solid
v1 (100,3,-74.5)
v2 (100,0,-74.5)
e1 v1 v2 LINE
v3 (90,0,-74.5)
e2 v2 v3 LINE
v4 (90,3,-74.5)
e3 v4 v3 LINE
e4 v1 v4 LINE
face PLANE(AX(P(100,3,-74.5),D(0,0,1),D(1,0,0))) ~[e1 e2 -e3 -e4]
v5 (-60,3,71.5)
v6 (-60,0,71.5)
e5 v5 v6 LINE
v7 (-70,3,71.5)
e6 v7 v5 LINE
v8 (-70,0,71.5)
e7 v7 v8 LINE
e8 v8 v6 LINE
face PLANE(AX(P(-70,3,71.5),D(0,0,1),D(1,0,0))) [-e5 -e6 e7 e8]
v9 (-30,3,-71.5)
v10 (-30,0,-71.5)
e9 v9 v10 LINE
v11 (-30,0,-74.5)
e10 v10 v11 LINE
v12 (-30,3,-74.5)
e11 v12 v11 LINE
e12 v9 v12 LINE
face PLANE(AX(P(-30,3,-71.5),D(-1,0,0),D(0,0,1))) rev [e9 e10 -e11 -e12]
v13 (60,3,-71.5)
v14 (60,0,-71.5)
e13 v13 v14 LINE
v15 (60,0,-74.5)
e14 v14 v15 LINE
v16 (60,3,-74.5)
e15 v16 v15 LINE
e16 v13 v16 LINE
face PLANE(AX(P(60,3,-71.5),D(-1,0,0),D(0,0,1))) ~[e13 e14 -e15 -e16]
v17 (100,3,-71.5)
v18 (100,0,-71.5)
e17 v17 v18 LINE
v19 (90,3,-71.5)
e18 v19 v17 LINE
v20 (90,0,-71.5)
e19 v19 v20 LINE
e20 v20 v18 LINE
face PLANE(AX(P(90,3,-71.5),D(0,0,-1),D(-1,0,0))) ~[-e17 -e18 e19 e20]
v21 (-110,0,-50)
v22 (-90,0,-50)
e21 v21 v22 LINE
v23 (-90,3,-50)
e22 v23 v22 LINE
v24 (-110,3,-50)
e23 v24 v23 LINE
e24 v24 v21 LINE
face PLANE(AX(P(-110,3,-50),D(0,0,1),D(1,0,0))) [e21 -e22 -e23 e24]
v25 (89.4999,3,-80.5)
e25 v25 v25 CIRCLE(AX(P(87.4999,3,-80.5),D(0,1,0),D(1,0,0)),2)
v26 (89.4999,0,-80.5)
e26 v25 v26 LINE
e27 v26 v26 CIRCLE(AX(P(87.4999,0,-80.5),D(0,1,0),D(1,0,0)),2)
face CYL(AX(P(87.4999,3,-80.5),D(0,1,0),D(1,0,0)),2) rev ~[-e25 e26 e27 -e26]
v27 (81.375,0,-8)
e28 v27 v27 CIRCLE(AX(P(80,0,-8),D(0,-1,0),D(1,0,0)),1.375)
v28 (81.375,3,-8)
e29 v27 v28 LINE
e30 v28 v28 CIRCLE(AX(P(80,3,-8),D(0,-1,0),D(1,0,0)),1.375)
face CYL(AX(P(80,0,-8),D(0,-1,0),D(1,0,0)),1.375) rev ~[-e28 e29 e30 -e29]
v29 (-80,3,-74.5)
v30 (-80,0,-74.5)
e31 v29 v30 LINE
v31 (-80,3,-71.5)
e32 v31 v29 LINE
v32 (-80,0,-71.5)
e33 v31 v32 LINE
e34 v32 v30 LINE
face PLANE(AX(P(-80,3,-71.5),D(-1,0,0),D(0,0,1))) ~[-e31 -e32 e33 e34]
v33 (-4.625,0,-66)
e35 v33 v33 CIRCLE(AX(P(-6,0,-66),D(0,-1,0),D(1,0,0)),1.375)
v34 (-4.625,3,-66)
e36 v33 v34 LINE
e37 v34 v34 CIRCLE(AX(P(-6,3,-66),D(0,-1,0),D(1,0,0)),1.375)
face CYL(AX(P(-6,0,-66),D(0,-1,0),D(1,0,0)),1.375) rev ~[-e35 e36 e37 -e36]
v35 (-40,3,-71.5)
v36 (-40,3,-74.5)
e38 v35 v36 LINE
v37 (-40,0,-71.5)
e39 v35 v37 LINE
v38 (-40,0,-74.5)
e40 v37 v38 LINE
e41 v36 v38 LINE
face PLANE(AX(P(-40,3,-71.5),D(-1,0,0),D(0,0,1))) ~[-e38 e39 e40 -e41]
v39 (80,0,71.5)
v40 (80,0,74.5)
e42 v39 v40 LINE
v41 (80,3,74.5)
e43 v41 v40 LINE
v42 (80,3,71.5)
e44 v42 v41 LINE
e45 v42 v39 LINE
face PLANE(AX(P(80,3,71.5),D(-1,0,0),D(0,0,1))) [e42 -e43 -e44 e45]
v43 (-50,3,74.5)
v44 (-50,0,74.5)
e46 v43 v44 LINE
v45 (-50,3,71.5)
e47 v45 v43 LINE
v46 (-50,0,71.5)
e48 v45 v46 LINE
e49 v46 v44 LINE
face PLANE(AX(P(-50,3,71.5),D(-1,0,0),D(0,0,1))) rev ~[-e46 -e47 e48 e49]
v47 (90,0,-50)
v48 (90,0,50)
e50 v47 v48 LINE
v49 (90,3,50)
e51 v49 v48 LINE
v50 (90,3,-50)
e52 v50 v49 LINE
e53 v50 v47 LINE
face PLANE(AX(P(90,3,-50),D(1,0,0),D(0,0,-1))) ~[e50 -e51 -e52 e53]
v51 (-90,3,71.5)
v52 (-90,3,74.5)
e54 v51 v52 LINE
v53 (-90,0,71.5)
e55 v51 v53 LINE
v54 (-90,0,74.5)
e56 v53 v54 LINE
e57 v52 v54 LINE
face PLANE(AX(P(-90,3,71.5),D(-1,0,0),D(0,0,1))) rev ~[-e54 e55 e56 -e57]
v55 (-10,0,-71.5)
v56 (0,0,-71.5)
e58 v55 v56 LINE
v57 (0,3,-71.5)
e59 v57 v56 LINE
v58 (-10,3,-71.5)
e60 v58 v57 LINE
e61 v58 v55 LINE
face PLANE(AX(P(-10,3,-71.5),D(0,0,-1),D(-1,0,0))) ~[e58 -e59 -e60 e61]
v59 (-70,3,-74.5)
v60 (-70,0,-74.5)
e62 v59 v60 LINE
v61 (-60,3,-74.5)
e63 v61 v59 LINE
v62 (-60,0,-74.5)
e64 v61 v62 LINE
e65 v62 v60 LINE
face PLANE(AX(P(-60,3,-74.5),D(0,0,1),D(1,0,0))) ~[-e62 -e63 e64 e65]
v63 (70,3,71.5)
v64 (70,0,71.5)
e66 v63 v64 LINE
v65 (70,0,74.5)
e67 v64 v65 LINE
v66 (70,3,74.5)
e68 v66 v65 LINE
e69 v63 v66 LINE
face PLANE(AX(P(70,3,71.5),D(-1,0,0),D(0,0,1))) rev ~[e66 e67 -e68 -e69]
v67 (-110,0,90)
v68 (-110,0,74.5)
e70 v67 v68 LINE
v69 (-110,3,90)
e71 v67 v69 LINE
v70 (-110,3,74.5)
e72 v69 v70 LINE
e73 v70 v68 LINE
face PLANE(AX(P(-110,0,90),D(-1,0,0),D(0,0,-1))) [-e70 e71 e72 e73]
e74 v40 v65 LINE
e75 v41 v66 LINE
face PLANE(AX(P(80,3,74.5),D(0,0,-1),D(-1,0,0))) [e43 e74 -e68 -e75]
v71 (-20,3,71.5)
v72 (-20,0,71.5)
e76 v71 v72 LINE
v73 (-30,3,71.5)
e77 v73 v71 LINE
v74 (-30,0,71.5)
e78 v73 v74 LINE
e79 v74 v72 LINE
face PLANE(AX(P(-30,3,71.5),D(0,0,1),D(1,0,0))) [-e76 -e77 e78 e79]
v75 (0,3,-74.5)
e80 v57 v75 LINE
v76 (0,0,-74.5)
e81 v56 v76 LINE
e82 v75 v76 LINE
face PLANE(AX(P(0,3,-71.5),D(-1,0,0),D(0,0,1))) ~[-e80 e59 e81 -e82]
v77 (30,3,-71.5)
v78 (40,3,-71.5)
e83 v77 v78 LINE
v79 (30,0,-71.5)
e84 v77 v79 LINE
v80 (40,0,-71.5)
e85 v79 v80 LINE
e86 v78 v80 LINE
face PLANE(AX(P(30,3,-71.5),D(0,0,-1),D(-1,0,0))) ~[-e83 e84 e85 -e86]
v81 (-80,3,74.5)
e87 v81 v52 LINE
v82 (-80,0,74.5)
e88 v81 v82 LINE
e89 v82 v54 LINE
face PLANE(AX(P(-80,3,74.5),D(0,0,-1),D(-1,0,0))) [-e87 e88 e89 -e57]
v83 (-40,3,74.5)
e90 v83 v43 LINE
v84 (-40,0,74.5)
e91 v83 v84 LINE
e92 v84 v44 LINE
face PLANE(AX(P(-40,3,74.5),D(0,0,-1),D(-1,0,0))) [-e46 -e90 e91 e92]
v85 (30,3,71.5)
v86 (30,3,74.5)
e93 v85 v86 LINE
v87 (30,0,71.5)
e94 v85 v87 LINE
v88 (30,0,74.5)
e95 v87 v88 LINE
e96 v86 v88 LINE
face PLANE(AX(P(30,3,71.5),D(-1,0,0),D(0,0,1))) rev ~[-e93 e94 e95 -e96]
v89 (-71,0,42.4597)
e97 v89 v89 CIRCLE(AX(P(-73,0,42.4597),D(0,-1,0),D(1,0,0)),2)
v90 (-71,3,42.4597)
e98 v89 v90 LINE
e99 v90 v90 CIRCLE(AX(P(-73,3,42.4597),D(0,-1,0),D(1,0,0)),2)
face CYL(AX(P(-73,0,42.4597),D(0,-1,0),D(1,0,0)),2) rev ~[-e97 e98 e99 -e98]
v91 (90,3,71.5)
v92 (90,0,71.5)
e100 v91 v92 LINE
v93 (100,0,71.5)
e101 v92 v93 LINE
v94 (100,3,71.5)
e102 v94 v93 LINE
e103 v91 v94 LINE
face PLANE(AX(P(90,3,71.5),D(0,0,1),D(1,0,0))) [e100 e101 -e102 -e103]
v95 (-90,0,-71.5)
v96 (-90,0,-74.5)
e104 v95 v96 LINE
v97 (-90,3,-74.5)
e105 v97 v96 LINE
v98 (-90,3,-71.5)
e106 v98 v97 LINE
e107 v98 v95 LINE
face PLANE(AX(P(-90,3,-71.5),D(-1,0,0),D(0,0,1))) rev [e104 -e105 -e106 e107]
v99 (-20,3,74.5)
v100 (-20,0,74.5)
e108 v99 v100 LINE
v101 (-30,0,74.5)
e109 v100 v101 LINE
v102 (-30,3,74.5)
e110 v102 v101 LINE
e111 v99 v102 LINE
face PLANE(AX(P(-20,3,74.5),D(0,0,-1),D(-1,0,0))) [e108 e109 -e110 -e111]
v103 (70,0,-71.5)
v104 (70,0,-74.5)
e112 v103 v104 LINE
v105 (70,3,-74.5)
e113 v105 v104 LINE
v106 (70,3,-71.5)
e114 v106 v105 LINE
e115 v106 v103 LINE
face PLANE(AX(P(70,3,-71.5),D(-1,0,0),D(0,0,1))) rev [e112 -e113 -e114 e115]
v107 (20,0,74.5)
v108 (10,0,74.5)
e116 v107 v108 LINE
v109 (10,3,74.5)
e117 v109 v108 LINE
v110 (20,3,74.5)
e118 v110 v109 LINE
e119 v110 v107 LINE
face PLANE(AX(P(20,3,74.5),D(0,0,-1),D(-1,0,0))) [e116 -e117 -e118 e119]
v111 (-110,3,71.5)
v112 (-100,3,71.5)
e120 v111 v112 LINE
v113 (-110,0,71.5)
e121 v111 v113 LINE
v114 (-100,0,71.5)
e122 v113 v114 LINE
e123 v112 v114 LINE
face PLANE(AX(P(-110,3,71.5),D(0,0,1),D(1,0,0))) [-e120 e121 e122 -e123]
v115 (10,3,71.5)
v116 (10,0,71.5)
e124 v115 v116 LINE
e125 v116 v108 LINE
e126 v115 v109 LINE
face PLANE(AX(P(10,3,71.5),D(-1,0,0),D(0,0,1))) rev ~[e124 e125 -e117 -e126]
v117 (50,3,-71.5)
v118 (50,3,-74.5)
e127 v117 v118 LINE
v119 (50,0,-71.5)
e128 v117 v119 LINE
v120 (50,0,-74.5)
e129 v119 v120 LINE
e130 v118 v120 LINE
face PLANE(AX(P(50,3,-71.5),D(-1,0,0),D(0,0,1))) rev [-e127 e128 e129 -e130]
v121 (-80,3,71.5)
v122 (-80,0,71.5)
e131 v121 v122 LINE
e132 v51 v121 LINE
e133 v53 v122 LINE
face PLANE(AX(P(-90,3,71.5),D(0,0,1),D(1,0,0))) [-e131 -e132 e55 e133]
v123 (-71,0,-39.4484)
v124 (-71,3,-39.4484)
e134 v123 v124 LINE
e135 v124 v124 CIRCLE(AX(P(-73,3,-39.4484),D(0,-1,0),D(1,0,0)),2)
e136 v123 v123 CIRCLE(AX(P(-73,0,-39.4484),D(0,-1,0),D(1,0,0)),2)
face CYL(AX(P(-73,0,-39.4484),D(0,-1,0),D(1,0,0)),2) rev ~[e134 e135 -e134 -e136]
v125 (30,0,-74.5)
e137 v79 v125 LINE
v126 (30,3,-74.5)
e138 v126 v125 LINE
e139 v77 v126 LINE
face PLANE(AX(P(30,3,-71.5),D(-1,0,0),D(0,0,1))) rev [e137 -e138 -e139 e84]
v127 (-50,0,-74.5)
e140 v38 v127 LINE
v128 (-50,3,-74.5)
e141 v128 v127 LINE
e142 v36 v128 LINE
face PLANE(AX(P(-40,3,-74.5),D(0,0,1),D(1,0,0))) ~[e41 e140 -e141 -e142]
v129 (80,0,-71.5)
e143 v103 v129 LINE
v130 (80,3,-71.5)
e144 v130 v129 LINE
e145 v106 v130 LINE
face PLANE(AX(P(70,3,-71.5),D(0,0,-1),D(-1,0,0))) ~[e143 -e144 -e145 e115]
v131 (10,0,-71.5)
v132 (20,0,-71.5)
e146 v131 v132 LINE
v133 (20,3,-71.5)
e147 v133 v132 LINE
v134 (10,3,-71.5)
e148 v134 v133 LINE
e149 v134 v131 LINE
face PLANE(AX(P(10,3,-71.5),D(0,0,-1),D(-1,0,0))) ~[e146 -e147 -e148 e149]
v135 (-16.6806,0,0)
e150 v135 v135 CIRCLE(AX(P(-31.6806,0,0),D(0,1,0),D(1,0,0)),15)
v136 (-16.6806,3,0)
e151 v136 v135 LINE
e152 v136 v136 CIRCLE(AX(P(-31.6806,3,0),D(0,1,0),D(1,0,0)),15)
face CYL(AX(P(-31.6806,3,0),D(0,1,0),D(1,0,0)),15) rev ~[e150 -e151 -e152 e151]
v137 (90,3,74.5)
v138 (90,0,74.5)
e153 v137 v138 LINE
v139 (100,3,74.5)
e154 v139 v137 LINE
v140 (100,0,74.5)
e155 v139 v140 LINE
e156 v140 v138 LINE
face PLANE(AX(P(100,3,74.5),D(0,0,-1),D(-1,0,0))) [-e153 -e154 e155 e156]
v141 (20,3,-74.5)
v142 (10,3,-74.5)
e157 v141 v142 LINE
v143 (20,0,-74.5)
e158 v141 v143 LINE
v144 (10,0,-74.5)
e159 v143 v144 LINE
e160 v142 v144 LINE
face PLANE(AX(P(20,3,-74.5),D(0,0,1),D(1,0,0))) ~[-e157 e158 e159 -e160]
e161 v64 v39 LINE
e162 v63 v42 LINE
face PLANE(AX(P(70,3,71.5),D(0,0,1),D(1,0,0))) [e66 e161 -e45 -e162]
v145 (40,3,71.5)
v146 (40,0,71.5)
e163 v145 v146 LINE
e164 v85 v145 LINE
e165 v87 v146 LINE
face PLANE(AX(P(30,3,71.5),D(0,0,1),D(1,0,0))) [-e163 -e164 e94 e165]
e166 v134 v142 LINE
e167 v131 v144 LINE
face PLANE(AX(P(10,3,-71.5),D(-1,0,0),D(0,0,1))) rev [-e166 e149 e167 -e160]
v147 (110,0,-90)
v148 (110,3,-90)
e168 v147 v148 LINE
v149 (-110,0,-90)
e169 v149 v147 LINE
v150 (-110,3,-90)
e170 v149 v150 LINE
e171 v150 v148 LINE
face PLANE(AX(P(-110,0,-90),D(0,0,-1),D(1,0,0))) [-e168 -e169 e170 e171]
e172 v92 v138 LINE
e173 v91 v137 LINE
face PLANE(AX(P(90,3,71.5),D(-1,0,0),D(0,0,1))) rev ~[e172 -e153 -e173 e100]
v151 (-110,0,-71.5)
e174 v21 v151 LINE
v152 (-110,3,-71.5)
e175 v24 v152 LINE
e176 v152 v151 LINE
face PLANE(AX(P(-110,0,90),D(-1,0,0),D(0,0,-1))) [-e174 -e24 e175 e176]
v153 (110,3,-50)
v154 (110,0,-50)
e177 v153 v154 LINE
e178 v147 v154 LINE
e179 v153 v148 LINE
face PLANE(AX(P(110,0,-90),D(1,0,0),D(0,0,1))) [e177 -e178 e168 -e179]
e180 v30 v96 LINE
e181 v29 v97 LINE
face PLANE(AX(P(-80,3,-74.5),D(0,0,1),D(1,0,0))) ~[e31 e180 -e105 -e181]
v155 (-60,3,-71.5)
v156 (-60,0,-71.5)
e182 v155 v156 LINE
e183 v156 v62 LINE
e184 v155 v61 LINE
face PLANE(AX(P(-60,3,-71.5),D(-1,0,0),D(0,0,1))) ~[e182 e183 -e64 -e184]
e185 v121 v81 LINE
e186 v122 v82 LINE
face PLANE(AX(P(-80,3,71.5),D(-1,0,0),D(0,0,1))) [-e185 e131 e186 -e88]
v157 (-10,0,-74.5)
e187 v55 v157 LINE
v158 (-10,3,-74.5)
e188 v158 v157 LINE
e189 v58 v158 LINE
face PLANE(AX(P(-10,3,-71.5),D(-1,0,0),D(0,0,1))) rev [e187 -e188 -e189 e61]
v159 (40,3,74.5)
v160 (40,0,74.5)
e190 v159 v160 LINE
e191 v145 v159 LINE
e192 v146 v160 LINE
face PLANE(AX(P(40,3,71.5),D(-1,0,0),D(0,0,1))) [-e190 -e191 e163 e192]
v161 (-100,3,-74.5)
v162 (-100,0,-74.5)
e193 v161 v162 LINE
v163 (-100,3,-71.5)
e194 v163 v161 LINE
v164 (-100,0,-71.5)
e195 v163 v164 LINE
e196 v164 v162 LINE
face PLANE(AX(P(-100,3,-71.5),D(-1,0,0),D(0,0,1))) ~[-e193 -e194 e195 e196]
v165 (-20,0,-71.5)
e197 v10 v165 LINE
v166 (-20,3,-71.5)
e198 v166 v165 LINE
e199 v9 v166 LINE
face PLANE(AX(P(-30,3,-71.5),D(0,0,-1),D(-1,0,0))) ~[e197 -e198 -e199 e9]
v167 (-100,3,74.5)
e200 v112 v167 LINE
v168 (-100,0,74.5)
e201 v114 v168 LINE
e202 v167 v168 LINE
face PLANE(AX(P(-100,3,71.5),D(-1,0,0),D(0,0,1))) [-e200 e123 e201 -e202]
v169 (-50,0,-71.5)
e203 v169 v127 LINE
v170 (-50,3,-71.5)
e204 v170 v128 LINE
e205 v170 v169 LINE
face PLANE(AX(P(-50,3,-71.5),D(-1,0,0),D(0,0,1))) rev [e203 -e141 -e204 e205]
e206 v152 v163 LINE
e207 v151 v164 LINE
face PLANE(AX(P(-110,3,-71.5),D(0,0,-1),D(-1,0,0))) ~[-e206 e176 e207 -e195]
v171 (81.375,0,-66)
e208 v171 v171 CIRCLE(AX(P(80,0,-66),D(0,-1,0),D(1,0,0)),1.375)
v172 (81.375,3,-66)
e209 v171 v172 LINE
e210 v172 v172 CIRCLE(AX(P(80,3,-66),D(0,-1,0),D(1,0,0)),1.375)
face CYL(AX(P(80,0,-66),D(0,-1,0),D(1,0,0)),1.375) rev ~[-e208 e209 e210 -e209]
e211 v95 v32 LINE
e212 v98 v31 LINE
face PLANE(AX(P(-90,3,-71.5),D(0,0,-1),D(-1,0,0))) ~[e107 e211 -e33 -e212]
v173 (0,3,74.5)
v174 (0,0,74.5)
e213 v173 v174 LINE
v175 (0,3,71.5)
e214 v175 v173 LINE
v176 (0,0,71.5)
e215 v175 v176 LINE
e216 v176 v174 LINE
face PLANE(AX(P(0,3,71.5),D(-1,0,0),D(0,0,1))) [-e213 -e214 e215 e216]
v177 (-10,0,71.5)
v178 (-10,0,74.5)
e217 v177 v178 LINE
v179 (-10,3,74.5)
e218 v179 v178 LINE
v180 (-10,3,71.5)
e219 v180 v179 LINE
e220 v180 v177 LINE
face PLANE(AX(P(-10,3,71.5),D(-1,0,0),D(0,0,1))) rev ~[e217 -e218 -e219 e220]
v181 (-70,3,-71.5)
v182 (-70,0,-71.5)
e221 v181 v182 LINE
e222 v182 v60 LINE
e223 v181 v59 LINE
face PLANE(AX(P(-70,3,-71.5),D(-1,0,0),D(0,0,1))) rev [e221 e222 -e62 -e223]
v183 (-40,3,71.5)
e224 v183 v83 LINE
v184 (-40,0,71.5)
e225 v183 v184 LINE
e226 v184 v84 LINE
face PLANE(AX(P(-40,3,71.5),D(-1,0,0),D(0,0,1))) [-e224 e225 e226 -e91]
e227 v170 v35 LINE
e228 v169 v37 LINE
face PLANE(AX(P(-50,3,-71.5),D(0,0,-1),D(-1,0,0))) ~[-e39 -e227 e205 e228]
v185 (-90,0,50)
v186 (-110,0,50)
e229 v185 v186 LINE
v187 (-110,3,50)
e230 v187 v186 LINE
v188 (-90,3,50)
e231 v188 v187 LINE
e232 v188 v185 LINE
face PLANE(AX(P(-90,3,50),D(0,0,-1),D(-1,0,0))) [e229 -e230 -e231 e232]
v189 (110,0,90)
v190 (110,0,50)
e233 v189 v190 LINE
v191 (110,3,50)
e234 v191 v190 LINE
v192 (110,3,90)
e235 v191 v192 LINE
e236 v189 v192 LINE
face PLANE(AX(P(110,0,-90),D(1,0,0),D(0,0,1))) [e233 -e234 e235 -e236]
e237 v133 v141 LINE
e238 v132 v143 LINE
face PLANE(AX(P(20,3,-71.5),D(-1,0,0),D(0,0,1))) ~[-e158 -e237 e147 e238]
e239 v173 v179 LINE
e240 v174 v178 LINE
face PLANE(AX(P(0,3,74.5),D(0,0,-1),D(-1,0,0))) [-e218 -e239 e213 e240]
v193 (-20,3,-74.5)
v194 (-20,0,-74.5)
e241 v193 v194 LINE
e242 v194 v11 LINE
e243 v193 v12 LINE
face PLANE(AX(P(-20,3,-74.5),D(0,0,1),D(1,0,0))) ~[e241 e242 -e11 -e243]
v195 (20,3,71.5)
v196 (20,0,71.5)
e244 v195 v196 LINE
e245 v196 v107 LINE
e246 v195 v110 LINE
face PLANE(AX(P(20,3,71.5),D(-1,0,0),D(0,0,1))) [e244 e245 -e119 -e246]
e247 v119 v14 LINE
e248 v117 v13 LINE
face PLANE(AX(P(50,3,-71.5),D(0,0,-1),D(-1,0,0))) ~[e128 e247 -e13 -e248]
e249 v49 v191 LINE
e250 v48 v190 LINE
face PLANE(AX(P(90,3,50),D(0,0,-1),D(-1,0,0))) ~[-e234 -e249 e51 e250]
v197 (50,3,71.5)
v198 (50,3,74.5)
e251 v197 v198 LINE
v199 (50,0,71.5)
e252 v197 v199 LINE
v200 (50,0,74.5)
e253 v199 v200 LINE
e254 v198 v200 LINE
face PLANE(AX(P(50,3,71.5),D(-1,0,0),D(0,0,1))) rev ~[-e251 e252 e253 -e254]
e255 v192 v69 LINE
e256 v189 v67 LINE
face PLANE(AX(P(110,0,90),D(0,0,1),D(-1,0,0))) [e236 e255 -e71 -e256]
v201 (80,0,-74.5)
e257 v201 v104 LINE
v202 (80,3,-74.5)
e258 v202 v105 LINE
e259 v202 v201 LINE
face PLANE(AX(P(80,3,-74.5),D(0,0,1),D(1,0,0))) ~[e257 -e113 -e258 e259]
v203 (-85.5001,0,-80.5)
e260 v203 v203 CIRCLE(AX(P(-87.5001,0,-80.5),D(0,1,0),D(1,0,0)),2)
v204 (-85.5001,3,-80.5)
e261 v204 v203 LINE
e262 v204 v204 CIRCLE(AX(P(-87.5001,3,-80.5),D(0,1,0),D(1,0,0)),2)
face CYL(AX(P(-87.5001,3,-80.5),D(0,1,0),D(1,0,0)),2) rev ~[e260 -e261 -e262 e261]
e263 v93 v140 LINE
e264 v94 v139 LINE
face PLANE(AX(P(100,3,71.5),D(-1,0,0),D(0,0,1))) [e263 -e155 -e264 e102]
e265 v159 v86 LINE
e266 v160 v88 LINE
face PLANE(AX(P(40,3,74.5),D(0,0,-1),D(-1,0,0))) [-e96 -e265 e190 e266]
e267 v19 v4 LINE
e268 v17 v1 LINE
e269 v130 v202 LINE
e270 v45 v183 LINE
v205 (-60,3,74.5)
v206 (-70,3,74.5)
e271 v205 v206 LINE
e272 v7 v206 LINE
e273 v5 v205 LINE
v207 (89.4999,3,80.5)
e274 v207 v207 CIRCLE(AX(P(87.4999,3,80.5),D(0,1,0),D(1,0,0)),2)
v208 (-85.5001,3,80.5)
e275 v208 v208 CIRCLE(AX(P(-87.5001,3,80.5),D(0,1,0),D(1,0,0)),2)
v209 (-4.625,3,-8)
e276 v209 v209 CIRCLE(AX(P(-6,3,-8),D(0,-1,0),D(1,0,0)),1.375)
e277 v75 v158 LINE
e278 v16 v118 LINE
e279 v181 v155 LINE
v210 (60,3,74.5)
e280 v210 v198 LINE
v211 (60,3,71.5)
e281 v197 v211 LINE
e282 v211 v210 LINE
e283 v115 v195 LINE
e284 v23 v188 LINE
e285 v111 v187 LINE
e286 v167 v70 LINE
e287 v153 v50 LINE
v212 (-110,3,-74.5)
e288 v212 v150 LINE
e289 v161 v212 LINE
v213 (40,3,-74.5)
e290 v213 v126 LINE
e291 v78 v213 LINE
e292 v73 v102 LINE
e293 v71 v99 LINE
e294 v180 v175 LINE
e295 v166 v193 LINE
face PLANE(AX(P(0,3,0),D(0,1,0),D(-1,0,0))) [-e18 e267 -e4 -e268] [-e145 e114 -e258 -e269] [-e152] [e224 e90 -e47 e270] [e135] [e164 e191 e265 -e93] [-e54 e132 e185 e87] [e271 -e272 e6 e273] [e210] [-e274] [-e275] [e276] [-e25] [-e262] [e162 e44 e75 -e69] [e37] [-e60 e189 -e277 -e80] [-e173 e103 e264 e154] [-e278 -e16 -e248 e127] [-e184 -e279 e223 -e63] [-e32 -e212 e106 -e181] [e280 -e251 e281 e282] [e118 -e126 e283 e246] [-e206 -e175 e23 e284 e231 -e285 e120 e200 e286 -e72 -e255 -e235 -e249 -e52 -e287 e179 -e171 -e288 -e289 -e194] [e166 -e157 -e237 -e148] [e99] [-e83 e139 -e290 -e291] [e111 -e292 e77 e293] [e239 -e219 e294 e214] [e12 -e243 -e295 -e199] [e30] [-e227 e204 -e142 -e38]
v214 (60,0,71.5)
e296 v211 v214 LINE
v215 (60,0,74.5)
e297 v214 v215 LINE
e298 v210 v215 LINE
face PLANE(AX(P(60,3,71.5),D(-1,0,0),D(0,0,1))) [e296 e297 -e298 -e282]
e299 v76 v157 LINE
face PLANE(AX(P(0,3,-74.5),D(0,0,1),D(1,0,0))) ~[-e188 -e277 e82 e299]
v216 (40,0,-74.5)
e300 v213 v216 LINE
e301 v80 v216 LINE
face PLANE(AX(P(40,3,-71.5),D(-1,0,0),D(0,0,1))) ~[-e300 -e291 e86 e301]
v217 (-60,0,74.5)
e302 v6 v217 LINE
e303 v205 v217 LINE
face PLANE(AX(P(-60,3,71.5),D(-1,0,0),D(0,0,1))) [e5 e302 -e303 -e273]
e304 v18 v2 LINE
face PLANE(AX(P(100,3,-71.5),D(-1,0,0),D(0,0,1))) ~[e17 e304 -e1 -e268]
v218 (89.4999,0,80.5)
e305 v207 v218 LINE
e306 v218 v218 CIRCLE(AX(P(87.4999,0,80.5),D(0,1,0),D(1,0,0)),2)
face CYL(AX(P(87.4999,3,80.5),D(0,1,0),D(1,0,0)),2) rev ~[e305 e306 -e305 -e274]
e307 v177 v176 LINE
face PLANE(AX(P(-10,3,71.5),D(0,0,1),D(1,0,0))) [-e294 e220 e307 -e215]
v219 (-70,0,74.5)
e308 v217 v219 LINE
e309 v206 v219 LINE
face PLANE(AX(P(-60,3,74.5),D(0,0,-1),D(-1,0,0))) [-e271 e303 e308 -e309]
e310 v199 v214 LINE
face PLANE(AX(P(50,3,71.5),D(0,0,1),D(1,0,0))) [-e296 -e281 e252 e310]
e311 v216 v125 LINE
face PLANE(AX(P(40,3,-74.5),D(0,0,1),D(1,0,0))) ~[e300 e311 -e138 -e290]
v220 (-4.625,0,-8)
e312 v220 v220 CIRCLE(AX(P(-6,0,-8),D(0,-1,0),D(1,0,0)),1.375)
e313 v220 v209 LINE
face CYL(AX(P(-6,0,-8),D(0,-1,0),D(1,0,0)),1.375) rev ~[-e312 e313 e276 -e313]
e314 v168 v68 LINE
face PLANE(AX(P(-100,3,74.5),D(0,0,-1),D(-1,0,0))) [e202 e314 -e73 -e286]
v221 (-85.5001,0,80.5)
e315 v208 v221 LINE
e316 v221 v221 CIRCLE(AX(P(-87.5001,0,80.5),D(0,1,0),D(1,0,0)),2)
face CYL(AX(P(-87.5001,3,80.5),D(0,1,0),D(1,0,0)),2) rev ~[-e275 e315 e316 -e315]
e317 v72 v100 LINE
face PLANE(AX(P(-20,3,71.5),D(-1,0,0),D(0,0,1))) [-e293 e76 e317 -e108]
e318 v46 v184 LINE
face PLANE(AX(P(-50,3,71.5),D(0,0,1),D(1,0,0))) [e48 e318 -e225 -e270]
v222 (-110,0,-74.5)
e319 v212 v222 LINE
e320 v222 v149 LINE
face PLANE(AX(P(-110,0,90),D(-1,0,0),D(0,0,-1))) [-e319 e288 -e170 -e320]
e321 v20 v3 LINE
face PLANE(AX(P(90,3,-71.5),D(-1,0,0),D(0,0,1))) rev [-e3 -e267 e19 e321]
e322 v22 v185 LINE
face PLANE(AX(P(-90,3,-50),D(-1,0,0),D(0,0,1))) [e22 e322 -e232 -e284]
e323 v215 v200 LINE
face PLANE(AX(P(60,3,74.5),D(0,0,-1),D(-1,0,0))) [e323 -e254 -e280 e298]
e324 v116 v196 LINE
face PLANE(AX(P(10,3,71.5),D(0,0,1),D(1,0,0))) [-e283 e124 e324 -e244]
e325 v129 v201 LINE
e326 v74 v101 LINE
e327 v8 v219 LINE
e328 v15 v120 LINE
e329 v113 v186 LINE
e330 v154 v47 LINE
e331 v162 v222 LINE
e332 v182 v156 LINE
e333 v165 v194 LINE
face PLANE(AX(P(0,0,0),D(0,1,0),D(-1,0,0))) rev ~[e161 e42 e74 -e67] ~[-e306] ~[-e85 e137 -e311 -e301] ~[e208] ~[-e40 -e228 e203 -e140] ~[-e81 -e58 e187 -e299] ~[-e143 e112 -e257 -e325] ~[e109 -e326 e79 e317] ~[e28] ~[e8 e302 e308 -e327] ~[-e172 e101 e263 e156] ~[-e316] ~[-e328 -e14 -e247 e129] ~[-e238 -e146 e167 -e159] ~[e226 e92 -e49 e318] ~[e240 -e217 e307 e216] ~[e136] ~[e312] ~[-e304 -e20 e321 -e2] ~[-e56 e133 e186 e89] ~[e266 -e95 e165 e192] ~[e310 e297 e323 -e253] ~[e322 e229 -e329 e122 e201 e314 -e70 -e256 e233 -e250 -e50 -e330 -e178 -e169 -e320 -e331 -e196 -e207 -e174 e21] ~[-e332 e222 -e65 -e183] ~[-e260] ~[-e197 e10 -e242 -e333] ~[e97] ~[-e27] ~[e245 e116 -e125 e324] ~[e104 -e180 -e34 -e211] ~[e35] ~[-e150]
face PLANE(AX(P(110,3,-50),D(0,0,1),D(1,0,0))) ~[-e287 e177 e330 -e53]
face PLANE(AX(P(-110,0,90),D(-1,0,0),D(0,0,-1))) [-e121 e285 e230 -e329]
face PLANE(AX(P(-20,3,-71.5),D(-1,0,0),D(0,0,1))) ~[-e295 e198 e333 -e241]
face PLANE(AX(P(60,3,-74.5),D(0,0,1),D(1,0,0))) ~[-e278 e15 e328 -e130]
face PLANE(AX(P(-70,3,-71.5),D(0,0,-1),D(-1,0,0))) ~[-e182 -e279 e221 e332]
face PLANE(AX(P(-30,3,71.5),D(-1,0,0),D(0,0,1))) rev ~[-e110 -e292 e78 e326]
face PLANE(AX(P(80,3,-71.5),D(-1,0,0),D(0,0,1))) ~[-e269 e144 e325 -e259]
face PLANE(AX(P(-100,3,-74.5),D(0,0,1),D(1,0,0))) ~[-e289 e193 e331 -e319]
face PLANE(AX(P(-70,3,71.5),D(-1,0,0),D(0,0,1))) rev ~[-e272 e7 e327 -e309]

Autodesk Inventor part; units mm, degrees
ref_plane "YZ Plane" through (0, 0, 0) normal (1, 0, 0) x (0, 1, 0)
ref_plane "XZ Plane" through (0, 0, 0) normal (0, 1, 0) x (-1, 0, 0)
ref_plane "XY Plane" through (0, 0, 0) normal (0, 0, 1) x (1, 0, 0)
sketch "Эскиз9" plane through (0, 0, 0) normal (0, 1, 0) x (-1, 0, 0)
  line L0 (-110, 90) -> (110, 90)
  line L1 (110, 90) -> (110, -90)
  line L2 (110, -90) -> (-110, -90)
  line L3 (-110, -90) -> (-110, 90)
  line L4 (-110, 90) -> (110, -90) construction
  line L5 (110, 90) -> (-110, -90) construction
  point P0 (0, 0)
  dimension "d50" = 220
  dimension "d51" = 180
extrude "Выдавливание9" add sketch "Эскиз9" along normal blind 3
sketch "Эскиз10" plane through (0, 0, 0) normal (0, -1, 0) x (1, 0, 0)
  circle A0 centre (99.9996, -40) radius 2 projected
  circle A1 centre (99.9996, 0) radius 2 projected
  circle A2 centre (99.9996, 40) radius 2 projected
  circle A3 centre (-99.9997, 0) radius 2 projected
  circle A4 centre (-99.9997, -40) radius 2 projected
  circle A5 centre (-99.9997, 40) radius 2 projected
  point P0 (0, 0)
extrude "Выдавливание10" cut sketch "Эскиз10" against normal blind 3
sketch "Эскиз11" plane through (0, 3, 0) normal (0, 1, 0) x (1, 0, 0)
  circle A0 centre (87.4999, 80.5) radius 2 projected
  circle A1 centre (-87.5001, 80.5) radius 2 projected
  circle A2 centre (-87.5001, -80.5) radius 2 projected
  circle A3 centre (87.4999, -80.5) radius 2 projected
  point P0 (0, 0)
extrude "Выдавливание11" cut sketch "Эскиз11" against normal blind 10
sketch "Эскиз12" plane through (0, 3, 0) normal (0, 1, 0) x (1, 0, 0)
  line L0 (-110, 90) -> (-110, -90) projected
  line L1 (-110, 50) -> (-90, 50)
  line L2 (-90, 50) -> (-90, -50)
  line L3 (-90, -50) -> (-110, -50)
  line L4 (-110, -50) -> (-110, 50)
  point P0 (0, 0)
  dimension "d61" = 20
  dimension "d62" = 50
  dimension "d63" = 100
extrude "Выдавливание12" cut sketch "Эскиз12" against normal blind 10
mirror "Зеркальное отражение1" about plane through (0, 0, 0) normal (1, 0, 0) of "Выдавливание12"
sketch "Эскиз13" plane through (0, 3, 0) normal (0, 1, 0) x (1, 0, 0)
  circle A0 centre (-31.6806, 0) radius 15
  point P0 (0, 0)
  dimension "d66" = 30
extrude "Выдавливание13" cut sketch "Эскиз13" against normal blind 10
sketch "Эскиз14" plane through (0, 0, 0) normal (0, -1, 0) x (1, 0, 0)
  circle A0 centre (-73, 42.4597) radius 2 projected
  circle A1 centre (-73, -39.4484) radius 2 projected
  point P0 (0, 0)
extrude "Выдавливание14" cut sketch "Эскиз14" against normal blind 10
sketch "Эскиз15" plane through (0, 0, 0) normal (0, -1, 0) x (1, 0, 0)
  circle A0 centre (-6, -8) radius 1.375 projected
  circle A1 centre (80, -8) radius 1.375 projected
  circle A2 centre (80, -66) radius 1.375 projected
  circle A3 centre (-6, -66) radius 1.375 projected
  point P0 (0, 0)
extrude "Выдавливание15" cut sketch "Эскиз15" against normal blind 10
sketch "Эскиз16" plane through (0, 3, 0) normal (0, 1, 0) x (1, 0, 0)
  line L0 (-110, -50) -> (-110, -90) projected
  line L1 (-110, -71.5) -> (-100, -71.5)
  line L2 (-100, -71.5) -> (-100, -74.5)
  line L3 (-100, -74.5) -> (-110, -74.5)
  line L4 (-110, -74.5) -> (-110, -71.5)
  circle A0 centre (-87.5001, -80.5) radius 2 projected
  point P0 (0, 0)
  dimension "d73" = 10
  dimension "d74" = 3
  dimension "d75" = 6
extrude "Выдавливание16" cut sketch "Эскиз16" against normal blind 10 contours L1 L2 L3 L0
pattern_linear "Прямоуг.массив5" count 12 spacing 20 along (1, 0, 0) of "Выдавливание16"
mirror "Зеркальное отражение2" about plane through (0, 0, 0) normal (0, 0, 1) of "Выдавливание16", "Прямоуг.массив5"
properties part number "000.101 - Bottom"
